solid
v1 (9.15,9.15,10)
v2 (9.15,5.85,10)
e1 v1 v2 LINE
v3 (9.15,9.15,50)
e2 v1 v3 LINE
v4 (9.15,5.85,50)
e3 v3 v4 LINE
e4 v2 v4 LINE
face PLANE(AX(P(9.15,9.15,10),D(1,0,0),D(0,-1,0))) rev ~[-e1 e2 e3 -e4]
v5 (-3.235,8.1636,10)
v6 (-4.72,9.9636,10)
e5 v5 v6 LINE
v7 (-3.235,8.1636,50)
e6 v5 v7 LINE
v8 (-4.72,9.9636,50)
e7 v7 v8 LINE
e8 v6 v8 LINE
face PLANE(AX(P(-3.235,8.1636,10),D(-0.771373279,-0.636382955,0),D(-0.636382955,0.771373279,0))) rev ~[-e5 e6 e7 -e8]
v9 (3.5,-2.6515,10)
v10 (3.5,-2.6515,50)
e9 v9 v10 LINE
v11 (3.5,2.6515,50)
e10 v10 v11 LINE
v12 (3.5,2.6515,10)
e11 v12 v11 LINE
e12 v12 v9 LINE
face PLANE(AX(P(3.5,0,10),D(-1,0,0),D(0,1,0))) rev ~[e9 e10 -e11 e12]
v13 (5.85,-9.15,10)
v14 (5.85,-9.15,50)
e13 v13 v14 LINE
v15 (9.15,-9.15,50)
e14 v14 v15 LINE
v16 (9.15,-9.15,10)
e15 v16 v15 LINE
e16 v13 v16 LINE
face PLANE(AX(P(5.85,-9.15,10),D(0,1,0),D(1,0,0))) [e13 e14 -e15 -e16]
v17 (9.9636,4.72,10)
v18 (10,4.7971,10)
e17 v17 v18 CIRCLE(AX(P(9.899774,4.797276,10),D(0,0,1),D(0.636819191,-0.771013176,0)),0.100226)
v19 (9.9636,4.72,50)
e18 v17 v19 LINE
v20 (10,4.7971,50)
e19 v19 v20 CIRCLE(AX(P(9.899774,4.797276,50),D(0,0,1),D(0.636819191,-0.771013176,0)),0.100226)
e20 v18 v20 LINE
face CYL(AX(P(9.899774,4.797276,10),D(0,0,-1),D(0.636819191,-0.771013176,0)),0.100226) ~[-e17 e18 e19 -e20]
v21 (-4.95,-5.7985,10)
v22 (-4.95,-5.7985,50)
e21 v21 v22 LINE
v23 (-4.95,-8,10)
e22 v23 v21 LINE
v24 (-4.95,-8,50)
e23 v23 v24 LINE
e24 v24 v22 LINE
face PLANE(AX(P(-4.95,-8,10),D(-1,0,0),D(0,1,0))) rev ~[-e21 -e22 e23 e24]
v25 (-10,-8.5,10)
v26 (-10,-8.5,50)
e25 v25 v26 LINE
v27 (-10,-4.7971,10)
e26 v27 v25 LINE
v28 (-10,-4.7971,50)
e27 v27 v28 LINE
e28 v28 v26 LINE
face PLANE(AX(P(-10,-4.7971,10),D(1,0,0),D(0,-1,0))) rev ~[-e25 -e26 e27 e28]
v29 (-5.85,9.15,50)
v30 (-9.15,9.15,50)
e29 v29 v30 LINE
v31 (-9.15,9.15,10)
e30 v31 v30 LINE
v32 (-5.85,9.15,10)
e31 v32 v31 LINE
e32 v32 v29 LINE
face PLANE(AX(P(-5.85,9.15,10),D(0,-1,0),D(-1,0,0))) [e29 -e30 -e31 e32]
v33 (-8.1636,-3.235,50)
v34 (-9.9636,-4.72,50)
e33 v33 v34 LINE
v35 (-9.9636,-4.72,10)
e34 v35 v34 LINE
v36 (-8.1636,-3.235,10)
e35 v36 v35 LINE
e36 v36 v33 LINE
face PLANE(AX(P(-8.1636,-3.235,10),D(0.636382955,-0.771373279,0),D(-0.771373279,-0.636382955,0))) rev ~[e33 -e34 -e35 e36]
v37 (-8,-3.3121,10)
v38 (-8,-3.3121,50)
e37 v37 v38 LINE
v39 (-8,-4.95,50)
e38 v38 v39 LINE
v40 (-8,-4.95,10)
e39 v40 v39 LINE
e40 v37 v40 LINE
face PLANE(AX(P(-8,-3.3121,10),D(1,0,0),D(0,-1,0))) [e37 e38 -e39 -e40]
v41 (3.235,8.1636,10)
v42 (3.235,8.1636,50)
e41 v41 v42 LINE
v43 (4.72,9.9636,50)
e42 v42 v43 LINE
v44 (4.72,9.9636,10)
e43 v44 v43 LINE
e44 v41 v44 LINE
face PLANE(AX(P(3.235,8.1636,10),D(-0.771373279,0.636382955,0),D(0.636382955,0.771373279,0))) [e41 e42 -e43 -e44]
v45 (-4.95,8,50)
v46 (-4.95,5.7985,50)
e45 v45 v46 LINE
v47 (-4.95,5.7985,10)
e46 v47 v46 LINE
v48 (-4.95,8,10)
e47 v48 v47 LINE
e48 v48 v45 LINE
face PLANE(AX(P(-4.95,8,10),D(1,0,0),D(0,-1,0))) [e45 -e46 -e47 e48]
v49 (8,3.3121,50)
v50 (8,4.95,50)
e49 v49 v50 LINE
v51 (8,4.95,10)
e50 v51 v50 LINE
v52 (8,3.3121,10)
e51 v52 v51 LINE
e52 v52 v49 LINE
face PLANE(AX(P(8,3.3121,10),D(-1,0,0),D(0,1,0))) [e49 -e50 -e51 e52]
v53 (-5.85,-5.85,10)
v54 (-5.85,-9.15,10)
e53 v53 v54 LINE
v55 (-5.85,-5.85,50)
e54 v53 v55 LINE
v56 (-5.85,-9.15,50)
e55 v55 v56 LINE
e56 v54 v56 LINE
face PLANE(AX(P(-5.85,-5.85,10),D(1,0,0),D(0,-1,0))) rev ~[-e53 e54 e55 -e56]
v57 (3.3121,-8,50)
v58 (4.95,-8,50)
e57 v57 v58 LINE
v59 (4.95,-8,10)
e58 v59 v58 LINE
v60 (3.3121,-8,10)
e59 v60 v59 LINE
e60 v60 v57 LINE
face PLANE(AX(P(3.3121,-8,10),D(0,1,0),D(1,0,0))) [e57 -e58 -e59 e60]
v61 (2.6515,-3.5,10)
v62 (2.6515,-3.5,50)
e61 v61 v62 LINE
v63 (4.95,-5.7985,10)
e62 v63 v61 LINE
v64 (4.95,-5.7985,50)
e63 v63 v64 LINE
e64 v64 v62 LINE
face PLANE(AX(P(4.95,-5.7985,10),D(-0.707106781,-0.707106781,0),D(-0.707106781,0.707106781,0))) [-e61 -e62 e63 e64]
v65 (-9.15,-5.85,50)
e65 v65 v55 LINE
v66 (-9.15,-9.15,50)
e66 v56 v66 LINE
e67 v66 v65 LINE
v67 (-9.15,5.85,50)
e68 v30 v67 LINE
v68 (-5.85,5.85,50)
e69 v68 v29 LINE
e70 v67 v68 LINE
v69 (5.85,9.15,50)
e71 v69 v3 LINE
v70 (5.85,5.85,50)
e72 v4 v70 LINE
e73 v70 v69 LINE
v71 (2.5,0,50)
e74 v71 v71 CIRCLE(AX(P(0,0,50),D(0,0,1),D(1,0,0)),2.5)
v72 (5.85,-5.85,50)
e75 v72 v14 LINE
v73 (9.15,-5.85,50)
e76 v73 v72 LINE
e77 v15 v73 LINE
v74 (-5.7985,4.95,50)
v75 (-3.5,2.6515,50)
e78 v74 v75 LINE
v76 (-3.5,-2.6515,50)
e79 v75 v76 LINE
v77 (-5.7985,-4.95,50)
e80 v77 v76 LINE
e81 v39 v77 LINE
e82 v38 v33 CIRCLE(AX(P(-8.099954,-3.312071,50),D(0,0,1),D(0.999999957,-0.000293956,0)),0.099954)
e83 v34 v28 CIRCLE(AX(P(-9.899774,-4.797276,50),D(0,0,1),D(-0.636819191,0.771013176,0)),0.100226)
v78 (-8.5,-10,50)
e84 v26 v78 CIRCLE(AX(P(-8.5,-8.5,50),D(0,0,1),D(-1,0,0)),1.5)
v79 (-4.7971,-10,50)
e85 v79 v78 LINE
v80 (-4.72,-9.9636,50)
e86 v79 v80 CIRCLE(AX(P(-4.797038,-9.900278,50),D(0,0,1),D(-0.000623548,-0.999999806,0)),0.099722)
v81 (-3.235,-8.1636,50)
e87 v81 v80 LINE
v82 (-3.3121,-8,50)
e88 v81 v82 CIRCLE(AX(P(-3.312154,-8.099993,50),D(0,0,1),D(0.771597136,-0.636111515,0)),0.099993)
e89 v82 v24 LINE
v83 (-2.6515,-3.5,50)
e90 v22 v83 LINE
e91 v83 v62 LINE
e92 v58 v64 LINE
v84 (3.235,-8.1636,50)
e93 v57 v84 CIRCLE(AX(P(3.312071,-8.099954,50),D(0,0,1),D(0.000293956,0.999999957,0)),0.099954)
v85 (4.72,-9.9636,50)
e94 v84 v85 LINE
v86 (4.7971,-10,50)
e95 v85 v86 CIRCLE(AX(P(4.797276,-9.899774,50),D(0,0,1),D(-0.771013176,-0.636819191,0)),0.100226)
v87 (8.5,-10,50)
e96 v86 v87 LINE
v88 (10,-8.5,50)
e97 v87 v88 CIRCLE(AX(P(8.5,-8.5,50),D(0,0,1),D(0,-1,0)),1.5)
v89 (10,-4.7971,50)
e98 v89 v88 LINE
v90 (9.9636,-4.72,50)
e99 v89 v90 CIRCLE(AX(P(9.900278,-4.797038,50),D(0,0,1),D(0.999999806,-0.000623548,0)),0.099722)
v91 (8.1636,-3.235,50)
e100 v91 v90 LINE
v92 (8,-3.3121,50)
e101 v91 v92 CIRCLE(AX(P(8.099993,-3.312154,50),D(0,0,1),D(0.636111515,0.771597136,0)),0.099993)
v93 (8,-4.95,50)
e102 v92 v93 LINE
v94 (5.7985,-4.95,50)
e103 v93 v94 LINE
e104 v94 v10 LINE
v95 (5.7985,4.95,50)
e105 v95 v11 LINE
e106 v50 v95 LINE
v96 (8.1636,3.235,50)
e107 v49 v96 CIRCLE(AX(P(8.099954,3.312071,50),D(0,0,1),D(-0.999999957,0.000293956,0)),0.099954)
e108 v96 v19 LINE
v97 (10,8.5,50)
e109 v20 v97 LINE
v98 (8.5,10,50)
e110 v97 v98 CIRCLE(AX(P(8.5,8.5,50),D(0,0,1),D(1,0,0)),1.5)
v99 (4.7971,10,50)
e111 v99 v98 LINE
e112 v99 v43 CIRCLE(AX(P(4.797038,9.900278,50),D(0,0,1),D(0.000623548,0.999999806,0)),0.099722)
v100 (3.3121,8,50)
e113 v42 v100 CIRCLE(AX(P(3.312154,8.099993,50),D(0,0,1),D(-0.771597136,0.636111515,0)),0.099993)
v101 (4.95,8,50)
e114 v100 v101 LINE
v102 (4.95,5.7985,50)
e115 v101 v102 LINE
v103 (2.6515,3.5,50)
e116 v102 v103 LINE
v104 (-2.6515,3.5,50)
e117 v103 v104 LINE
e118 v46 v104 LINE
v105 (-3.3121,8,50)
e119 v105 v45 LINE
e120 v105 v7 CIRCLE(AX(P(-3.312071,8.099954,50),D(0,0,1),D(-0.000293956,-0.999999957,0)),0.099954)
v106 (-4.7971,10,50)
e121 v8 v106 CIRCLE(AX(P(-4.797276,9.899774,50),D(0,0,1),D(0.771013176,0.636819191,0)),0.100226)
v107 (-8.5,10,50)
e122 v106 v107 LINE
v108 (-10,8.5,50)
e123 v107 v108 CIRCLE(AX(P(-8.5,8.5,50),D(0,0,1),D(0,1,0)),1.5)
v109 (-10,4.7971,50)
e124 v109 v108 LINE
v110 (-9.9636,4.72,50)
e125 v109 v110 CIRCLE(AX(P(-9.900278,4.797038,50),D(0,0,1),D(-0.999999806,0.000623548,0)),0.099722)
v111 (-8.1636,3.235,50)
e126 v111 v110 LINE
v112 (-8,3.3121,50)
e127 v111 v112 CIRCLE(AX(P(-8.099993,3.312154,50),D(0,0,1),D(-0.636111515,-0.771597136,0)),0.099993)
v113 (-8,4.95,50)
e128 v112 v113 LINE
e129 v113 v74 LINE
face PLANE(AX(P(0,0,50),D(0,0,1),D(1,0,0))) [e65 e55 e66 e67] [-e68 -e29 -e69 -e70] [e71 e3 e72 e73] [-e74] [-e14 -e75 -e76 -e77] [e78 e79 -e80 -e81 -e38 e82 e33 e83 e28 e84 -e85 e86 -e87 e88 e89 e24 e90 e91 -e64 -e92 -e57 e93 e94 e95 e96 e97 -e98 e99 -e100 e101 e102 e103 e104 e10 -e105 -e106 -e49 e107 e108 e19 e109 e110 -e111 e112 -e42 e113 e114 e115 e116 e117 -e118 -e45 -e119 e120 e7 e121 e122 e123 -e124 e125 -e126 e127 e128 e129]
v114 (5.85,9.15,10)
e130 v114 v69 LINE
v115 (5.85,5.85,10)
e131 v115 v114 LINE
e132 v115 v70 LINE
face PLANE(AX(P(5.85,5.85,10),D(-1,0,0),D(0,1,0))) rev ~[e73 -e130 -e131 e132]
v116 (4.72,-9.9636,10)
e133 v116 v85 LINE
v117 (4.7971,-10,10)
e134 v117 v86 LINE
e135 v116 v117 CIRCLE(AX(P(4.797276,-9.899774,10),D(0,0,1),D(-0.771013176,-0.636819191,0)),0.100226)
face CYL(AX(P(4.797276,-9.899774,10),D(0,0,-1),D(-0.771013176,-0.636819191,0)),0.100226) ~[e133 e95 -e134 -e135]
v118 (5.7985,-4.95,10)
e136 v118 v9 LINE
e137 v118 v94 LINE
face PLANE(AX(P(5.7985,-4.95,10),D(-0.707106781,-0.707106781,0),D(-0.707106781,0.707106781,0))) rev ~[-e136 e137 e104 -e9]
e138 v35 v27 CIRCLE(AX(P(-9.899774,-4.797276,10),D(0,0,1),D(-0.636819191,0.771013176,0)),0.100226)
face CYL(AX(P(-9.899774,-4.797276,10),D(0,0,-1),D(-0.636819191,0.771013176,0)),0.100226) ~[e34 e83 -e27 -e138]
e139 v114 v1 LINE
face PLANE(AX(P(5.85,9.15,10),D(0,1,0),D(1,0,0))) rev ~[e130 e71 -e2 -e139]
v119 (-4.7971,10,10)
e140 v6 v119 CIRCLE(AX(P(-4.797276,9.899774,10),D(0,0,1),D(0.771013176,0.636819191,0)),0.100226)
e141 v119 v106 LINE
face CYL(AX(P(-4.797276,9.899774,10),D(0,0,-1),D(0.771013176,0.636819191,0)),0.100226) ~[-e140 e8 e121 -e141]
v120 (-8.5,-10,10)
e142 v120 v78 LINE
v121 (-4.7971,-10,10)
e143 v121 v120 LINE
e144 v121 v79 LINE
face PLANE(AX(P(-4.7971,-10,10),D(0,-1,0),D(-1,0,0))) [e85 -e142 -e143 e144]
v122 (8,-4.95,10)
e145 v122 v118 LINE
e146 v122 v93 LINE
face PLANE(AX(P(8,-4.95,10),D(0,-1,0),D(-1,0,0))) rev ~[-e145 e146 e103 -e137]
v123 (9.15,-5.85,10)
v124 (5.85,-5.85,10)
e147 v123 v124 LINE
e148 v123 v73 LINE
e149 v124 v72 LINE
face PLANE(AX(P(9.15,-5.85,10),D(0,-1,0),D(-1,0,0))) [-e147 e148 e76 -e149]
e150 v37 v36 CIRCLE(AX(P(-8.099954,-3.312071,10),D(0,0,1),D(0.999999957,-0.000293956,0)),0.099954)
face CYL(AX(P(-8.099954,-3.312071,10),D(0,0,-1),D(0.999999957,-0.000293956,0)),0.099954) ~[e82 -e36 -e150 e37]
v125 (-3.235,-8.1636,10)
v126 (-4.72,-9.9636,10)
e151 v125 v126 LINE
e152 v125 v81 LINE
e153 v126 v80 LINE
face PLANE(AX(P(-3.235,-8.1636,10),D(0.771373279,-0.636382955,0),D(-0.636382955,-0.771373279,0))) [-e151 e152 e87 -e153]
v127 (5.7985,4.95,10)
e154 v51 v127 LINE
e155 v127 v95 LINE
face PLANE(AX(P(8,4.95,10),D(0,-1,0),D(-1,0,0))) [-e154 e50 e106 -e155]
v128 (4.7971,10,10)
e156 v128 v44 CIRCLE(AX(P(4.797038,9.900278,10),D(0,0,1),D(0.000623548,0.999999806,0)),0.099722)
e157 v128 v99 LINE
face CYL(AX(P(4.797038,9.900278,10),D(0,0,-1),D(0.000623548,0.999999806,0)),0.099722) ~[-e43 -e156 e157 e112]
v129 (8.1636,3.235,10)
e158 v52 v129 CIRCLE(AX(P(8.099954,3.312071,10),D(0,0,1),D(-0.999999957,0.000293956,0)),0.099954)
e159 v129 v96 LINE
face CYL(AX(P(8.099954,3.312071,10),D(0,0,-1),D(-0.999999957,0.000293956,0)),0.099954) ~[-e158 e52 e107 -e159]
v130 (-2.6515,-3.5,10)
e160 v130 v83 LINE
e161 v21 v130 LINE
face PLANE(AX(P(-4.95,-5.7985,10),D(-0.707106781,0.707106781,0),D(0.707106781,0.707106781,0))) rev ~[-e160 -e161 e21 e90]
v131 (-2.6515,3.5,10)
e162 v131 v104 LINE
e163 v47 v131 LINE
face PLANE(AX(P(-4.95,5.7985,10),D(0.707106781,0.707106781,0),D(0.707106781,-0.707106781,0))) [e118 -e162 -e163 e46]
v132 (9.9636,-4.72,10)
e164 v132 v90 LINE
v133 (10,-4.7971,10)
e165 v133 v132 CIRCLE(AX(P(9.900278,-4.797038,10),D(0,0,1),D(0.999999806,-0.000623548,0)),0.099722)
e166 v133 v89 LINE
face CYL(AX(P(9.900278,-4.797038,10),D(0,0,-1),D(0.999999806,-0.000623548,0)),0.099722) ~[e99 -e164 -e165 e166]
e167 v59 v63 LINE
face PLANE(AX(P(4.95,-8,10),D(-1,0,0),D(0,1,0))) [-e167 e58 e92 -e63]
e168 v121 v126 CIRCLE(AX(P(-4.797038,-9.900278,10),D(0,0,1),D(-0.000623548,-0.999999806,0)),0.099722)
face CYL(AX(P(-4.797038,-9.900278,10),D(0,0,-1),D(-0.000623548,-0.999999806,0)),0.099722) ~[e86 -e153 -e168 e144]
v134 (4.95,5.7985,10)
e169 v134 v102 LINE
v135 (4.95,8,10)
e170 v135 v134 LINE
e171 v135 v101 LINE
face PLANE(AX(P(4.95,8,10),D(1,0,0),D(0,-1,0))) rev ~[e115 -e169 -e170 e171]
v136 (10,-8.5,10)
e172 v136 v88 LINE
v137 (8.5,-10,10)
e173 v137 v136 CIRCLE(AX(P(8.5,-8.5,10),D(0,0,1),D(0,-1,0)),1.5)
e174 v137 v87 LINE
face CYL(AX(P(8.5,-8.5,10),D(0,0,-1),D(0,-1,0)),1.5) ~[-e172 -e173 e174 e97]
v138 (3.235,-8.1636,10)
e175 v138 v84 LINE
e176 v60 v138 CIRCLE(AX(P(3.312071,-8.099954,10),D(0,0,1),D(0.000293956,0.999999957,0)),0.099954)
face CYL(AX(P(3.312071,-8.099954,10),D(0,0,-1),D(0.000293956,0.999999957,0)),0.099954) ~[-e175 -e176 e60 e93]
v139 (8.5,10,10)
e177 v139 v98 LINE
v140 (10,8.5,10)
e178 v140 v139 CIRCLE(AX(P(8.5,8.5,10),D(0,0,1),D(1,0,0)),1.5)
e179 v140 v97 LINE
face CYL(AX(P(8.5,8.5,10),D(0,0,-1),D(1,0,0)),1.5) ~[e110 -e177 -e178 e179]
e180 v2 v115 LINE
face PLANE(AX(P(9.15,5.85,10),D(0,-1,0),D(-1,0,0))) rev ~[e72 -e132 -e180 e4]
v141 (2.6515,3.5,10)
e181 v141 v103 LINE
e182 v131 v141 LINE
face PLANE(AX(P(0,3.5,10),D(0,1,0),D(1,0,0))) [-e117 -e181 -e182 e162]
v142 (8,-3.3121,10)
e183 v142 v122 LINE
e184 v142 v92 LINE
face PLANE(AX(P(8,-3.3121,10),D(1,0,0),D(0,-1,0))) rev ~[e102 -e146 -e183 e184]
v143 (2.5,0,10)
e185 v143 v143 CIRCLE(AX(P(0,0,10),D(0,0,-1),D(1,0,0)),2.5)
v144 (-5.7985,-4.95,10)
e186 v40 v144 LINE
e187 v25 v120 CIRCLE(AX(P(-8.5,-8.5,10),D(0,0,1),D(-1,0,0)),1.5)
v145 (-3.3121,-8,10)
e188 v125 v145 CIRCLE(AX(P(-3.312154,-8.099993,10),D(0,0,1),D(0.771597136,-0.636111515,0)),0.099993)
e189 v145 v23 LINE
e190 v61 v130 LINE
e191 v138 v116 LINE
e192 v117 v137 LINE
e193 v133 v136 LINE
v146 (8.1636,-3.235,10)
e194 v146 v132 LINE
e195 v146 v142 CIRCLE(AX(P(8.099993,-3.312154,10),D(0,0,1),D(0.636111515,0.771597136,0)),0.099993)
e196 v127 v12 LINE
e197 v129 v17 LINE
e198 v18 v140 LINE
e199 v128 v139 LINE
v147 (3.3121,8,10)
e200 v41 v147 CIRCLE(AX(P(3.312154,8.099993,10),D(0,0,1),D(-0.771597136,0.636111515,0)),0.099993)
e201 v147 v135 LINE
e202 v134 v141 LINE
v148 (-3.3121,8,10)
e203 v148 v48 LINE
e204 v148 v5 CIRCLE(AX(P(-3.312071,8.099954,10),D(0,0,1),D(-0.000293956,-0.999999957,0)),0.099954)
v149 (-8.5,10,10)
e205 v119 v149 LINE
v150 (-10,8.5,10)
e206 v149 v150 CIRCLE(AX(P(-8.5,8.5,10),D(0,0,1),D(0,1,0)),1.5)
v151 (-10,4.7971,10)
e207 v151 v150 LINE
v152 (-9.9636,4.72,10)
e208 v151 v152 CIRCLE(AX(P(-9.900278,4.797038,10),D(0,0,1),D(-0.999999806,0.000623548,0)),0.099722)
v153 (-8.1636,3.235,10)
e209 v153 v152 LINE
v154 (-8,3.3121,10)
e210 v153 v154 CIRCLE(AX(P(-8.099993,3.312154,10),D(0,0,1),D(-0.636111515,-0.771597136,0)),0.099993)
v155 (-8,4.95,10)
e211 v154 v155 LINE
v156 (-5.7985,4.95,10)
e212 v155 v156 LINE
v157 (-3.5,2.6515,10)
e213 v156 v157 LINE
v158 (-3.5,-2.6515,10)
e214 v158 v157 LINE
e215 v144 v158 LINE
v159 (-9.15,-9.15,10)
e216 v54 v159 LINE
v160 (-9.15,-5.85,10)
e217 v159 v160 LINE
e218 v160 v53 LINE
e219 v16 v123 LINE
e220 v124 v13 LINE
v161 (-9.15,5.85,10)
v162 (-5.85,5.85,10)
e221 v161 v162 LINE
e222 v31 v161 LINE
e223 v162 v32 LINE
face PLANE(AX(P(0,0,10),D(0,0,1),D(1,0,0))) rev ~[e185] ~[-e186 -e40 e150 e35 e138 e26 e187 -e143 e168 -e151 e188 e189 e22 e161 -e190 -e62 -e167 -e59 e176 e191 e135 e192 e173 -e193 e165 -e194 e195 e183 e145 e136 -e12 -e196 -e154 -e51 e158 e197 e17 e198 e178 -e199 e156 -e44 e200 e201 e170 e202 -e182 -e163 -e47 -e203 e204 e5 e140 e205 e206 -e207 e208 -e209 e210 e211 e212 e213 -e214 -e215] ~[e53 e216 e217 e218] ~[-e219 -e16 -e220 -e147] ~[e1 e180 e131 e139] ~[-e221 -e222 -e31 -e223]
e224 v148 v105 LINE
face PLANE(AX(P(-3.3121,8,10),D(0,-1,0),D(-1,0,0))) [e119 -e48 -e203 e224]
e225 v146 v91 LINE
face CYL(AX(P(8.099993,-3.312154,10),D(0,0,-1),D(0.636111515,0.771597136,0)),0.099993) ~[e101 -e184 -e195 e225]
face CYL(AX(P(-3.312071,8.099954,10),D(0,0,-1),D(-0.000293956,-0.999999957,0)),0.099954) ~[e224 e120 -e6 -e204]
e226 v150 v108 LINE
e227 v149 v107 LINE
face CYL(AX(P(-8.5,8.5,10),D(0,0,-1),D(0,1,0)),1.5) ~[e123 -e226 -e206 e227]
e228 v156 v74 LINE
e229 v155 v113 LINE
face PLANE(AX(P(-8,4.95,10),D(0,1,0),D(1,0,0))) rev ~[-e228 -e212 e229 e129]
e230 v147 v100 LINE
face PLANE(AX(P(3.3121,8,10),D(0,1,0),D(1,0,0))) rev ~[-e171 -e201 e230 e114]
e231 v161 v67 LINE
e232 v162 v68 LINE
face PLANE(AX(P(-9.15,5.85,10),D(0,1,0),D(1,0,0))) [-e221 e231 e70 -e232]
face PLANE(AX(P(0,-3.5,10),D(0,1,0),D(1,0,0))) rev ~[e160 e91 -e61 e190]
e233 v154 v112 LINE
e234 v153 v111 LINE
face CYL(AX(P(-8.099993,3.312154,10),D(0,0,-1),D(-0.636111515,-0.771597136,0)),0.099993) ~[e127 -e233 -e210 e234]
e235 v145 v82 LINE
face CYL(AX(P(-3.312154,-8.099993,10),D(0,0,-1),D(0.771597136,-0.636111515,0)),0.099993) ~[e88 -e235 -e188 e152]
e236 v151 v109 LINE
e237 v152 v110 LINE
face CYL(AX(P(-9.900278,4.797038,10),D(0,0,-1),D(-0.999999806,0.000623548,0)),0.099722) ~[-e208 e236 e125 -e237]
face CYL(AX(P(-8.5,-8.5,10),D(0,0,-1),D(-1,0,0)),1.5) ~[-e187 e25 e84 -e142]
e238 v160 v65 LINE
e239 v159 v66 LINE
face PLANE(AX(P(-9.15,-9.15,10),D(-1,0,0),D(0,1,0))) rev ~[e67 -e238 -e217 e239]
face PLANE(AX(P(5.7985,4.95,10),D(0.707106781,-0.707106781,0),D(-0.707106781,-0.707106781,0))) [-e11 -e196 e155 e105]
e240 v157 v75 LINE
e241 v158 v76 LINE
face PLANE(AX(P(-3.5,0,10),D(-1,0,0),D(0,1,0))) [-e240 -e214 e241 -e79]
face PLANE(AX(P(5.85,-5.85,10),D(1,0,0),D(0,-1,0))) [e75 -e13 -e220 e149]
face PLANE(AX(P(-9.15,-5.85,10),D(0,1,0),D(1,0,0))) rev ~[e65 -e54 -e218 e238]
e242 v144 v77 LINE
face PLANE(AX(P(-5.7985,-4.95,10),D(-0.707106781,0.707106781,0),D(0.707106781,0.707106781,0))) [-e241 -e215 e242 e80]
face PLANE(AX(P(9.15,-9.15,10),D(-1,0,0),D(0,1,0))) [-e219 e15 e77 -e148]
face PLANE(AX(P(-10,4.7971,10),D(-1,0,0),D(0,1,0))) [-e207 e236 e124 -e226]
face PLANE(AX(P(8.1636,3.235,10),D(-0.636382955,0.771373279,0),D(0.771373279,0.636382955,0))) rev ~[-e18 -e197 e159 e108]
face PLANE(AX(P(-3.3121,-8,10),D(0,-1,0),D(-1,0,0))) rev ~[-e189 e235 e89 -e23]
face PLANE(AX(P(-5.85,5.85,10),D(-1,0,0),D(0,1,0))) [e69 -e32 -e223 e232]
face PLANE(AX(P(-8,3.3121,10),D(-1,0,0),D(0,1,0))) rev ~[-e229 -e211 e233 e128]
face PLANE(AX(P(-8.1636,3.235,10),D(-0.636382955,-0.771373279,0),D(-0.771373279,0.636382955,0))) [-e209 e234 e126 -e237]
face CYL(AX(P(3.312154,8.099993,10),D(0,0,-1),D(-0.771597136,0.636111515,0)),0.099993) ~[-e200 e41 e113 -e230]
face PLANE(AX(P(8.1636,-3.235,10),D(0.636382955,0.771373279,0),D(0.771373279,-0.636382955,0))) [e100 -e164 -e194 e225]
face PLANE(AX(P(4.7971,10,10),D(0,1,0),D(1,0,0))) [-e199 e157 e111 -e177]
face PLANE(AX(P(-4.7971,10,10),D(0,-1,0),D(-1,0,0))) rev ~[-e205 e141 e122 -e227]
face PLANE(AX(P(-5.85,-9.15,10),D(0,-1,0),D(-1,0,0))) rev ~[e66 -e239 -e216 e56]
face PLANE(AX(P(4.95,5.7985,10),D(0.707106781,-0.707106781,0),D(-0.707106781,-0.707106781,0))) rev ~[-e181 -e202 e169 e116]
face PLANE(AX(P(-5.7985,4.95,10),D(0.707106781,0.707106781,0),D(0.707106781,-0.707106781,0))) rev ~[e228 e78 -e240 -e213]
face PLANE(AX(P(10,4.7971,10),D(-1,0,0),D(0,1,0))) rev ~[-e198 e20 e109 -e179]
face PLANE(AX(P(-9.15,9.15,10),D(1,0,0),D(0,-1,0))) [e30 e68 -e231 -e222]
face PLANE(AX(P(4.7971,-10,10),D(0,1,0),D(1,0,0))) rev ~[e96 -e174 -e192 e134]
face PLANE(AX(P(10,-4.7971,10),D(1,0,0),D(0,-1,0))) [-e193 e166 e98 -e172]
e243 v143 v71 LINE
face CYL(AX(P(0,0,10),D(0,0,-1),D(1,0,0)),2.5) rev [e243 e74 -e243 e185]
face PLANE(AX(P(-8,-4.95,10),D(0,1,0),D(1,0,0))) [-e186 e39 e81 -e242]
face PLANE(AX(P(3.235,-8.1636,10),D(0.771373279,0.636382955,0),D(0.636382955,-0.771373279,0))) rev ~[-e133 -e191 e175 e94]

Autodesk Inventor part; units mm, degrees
ref_plane "Начальная плоскость" through (0, 0, 10) normal (0, 0, 1) x (1, 0, 0)
ref_plane "Конечная плоскость" through (0, 0, 50) normal (0, 0, 1) x (1, 0, 0)
sketch "Эскиз" plane through (0, 0, 0) normal (0, 0, 1) x (1, 0, 0)
  line L0 (-14.4349, 0) -> (14.4349, 0) projected
  line L1 (0, -14) -> (0, 14) projected
  line L2 (0, 0) -> (7.5, 7.5) construction
  circle A0 centre (7.5, 7.5) radius 1.65 construction
  line L3 (5.85, 9.15) -> (9.15, 9.15)
  line L4 (9.15, 9.15) -> (9.15, 5.85)
  line L5 (9.15, 5.85) -> (5.85, 5.85)
  line L6 (5.85, 5.85) -> (5.85, 9.15)
  line L7 (3.235, 8.1636) -> (4.72, 9.9636)
  line L8 (4.7971, 10) -> (8.5, 10)
  line L9 (3.3121, 8) -> (4.95, 8)
  line L10 (4.95, 8) -> (4.95, 5.7985)
  line L11 (4.95, 5.7985) -> (2.6515, 3.5)
  line L12 (0, 3.5) -> (2.6515, 3.5)
  circle A1 centre (0, 0) radius 2.5
  line L13 (8.1636, 3.235) -> (9.9636, 4.72)
  line L14 (10, 4.7971) -> (10, 8.5)
  line L15 (8, 3.3121) -> (8, 4.95)
  line L16 (8, 4.95) -> (5.7985, 4.95)
  line L17 (5.7985, 4.95) -> (3.5, 2.6515)
  line L18 (3.5, 0) -> (3.5, 2.6515)
  arc A2 (10, 8.5) -> (8.5, 10) centre (8.5, 8.5) ccw
  line L19 (0, 0) -> (-7.5, 7.5) construction
  circle A3 centre (-7.5, 7.5) radius 1.65 construction
  line L20 (-5.85, 9.15) -> (-9.15, 9.15)
  line L21 (-9.15, 9.15) -> (-9.15, 5.85)
  line L22 (-9.15, 5.85) -> (-5.85, 5.85)
  line L23 (-5.85, 5.85) -> (-5.85, 9.15)
  line L24 (-3.235, 8.1636) -> (-4.72, 9.9636)
  line L25 (-4.7971, 10) -> (-8.5, 10)
  line L26 (-3.3121, 8) -> (-4.95, 8)
  line L27 (-4.95, 8) -> (-4.95, 5.7985)
  line L28 (-4.95, 5.7985) -> (-2.6515, 3.5)
  line L29 (0, 3.5) -> (-2.6515, 3.5)
  line L30 (-3.5, 0) -> (-3.5, 2.6515)
  line L31 (-5.7985, 4.95) -> (-3.5, 2.6515)
  line L32 (-8, 4.95) -> (-5.7985, 4.95)
  line L33 (-8, 3.3121) -> (-8, 4.95)
  line L34 (-8.1636, 3.235) -> (-9.9636, 4.72)
  line L35 (-10, 4.7971) -> (-10, 8.5)
  arc A4 (-8.5, 10) -> (-10, 8.5) centre (-8.5, 8.5) ccw
  line L36 (0, 14) -> (0, -14)
  line L37 (0, 0) -> (7.5, -7.5) construction
  circle A5 centre (7.5, -7.5) radius 1.65 construction
  line L38 (5.85, -9.15) -> (9.15, -9.15)
  line L39 (9.15, -9.15) -> (9.15, -5.85)
  line L40 (9.15, -5.85) -> (5.85, -5.85)
  line L41 (5.85, -5.85) -> (5.85, -9.15)
  line L42 (3.235, -8.1636) -> (4.72, -9.9636)
  line L43 (4.7971, -10) -> (8.5, -10)
  line L44 (3.3121, -8) -> (4.95, -8)
  line L45 (4.95, -8) -> (4.95, -5.7985)
  line L46 (4.95, -5.7985) -> (2.6515, -3.5)
  line L47 (0, -3.5) -> (2.6515, -3.5)
  line L48 (3.5, 0) -> (3.5, -2.6515)
  line L49 (5.7985, -4.95) -> (3.5, -2.6515)
  line L50 (8, -4.95) -> (5.7985, -4.95)
  line L51 (8, -3.3121) -> (8, -4.95)
  line L52 (8.1636, -3.235) -> (9.9636, -4.72)
  line L53 (10, -4.7971) -> (10, -8.5)
  arc A6 (8.5, -10) -> (10, -8.5) centre (8.5, -8.5) ccw
  line L54 (0, 0) -> (-7.5, -7.5) construction
  line L55 (-4.95, -8) -> (-4.95, -5.7985)
  line L56 (-3.3121, -8) -> (-4.95, -8)
  line L57 (-5.7985, -4.95) -> (-3.5, -2.6515)
  line L58 (-4.95, -5.7985) -> (-2.6515, -3.5)
  line L59 (-3.5, 0) -> (-3.5, -2.6515)
  line L60 (0, -3.5) -> (-2.6515, -3.5)
  circle A7 centre (-7.5, -7.5) radius 1.65 construction
  line L61 (-5.85, -5.85) -> (-5.85, -9.15)
  line L62 (-5.85, -9.15) -> (-9.15, -9.15)
  line L63 (-9.15, -9.15) -> (-9.15, -5.85)
  line L64 (-9.15, -5.85) -> (-5.85, -5.85)
  line L65 (-3.235, -8.1636) -> (-4.72, -9.9636)
  line L66 (-8, -4.95) -> (-5.7985, -4.95)
  line L67 (-8, -3.3121) -> (-8, -4.95)
  line L68 (-8.1636, -3.235) -> (-9.9636, -4.72)
  line L69 (-4.7971, -10) -> (-8.5, -10)
  line L70 (-10, -4.7971) -> (-10, -8.5)
  arc A8 (-10, -8.5) -> (-8.5, -10) centre (-8.5, -8.5) ccw
  arc A9 (3.235, 8.1636) -> (3.3121, 8) centre (3.3121, 8.1) ccw
  arc A10 (4.7971, 10) -> (4.72, 9.9636) centre (4.7971, 9.9) ccw
  arc A11 (8, 3.3121) -> (8.1636, 3.235) centre (8.1, 3.3121) ccw
  arc A12 (9.9636, 4.72) -> (10, 4.7971) centre (9.9, 4.7971) ccw
  arc A13 (-3.3121, 8) -> (-3.235, 8.1636) centre (-3.3121, 8.1) ccw
  arc A14 (-4.72, 9.9636) -> (-4.7971, 10) centre (-4.7971, 9.9) ccw
  arc A15 (-8.1636, 3.235) -> (-8, 3.3121) centre (-8.1, 3.3121) ccw
  arc A16 (-10, 4.7971) -> (-9.9636, 4.72) centre (-9.9, 4.7971) ccw
  arc A17 (-8, -3.3121) -> (-8.1636, -3.235) centre (-8.1, -3.3121) ccw
  arc A18 (-9.9636, -4.72) -> (-10, -4.7971) centre (-9.9, -4.7971) ccw
  arc A19 (-3.235, -8.1636) -> (-3.3121, -8) centre (-3.3121, -8.1) ccw
  arc A20 (-4.7971, -10) -> (-4.72, -9.9636) centre (-4.7971, -9.9) ccw
  arc A21 (4.72, -9.9636) -> (4.7971, -10) centre (4.7971, -9.9) ccw
  arc A22 (3.3121, -8) -> (3.235, -8.1636) centre (3.3121, -8.1) ccw
  arc A23 (8.1636, -3.235) -> (8, -3.3121) centre (8.1, -3.3121) ccw
  arc A24 (10, -4.7971) -> (9.9636, -4.72) centre (9.9, -4.7971) ccw
  point P0 (3.1, 8)
  point P1 (4.75, 10)
  point P2 (7.5, 9.15)
  point P3 (8, 3.1)
  point P4 (10, 4.75)
  point P5 (7.5, 5.85)
  point P6 (9.15, 7.5)
  point P7 (-3.1, 8)
  point P8 (-4.75, 10)
  point P9 (-7.5, 9.15)
  point P10 (-8, 3.1)
  point P11 (-10, 4.75)
  point P12 (-7.5, 5.85)
  point P13 (-9.15, 7.5)
  point P14 (3.1, -8)
  point P15 (4.75, -10)
  point P16 (7.5, -9.15)
  point P17 (8, -3.1)
  point P18 (10, -4.75)
  point P19 (7.5, -5.85)
  point P20 (9.15, -7.5)
  point P21 (-3.1, -8)
  point P22 (-7.5, -5.85)
  point P23 (-7.5, -9.15)
  point P24 (-9.15, -7.5)
  point P25 (-4.75, -10)
  point P26 (-8, -3.1)
  point P27 (-10, -4.75)
  dimension "d0" = 45
  dimension "d1" = 3.3
  dimension "d2" = 1.5
  dimension "d3" = 1.2
  dimension "d4" = 5
  dimension "d5" = 6.5
  dimension "d6" = 15
  dimension "d7" = 20
  dimension "d8" = 9.9
  dimension "d9" = 9.5
  dimension "d10" = 6.2
  dimension "d11" = 2
  dimension "d18" = 0.1
  dimension "d19" = 0.1
extrude "Тело" add sketch "Эскиз" along normal up to surface (40 mm away) from surface at 10 contours A1 L1 L12 L11 L10 L9 A9 L7 A10 L8 A2 L14 A12 L13 A11 L15 L16 L17 L18 L0 | L0 L48 L49 L50 L51 A23 L52 A24 L53 A6 L43 A21 L42 A22 L44 L45 L46 L47 L1 A1 | A1 L0 L30 L31 L32 L33 A15 L34 A16 L35 A4 L25 A14 L24 A13 L26 L27 L28 L29 L1 | L1 L60 L58 L55 L56 A19 L65 A20 L69 A8 L70 A18 L68 A17 L67 L66 L57 L59 L0 A1
sketch "Эскиз2" plane through (0, 0, 0) normal (0, 0, 1) x (1, 0, 0)
  line L0 (0, 0) -> (10, 0)
ref_plane "РабПлоскость3" through (0, 0, 0) normal (0, -1, 0) x (1, 0, 0)
sketch "Эскиз3" plane through (0, 0, 0) normal (0, -1, 0) x (1, 0, 0)
  line L0 (-2, 10) -> (12, 10)
  line L1 (-2, 50) -> (12, 50)
  dimension "d25" = 40
ref_plane "РабПлоскость4" through (120, -8.5, 10) normal (0, 0, -1) x (-1, 0, 0)
split "Разделение1" plane through (120, -8.5, 10) removes the side toward (0, 0, -1)
ref_plane "РабПлоскость5" through (-390, -8.5, 50) normal (0, 0, 1) x (1, 0, 0)
split "Разделение2" plane through (-390, -8.5, 50) removes the side toward (0, 0, 1)
properties part number "короткая палка"
